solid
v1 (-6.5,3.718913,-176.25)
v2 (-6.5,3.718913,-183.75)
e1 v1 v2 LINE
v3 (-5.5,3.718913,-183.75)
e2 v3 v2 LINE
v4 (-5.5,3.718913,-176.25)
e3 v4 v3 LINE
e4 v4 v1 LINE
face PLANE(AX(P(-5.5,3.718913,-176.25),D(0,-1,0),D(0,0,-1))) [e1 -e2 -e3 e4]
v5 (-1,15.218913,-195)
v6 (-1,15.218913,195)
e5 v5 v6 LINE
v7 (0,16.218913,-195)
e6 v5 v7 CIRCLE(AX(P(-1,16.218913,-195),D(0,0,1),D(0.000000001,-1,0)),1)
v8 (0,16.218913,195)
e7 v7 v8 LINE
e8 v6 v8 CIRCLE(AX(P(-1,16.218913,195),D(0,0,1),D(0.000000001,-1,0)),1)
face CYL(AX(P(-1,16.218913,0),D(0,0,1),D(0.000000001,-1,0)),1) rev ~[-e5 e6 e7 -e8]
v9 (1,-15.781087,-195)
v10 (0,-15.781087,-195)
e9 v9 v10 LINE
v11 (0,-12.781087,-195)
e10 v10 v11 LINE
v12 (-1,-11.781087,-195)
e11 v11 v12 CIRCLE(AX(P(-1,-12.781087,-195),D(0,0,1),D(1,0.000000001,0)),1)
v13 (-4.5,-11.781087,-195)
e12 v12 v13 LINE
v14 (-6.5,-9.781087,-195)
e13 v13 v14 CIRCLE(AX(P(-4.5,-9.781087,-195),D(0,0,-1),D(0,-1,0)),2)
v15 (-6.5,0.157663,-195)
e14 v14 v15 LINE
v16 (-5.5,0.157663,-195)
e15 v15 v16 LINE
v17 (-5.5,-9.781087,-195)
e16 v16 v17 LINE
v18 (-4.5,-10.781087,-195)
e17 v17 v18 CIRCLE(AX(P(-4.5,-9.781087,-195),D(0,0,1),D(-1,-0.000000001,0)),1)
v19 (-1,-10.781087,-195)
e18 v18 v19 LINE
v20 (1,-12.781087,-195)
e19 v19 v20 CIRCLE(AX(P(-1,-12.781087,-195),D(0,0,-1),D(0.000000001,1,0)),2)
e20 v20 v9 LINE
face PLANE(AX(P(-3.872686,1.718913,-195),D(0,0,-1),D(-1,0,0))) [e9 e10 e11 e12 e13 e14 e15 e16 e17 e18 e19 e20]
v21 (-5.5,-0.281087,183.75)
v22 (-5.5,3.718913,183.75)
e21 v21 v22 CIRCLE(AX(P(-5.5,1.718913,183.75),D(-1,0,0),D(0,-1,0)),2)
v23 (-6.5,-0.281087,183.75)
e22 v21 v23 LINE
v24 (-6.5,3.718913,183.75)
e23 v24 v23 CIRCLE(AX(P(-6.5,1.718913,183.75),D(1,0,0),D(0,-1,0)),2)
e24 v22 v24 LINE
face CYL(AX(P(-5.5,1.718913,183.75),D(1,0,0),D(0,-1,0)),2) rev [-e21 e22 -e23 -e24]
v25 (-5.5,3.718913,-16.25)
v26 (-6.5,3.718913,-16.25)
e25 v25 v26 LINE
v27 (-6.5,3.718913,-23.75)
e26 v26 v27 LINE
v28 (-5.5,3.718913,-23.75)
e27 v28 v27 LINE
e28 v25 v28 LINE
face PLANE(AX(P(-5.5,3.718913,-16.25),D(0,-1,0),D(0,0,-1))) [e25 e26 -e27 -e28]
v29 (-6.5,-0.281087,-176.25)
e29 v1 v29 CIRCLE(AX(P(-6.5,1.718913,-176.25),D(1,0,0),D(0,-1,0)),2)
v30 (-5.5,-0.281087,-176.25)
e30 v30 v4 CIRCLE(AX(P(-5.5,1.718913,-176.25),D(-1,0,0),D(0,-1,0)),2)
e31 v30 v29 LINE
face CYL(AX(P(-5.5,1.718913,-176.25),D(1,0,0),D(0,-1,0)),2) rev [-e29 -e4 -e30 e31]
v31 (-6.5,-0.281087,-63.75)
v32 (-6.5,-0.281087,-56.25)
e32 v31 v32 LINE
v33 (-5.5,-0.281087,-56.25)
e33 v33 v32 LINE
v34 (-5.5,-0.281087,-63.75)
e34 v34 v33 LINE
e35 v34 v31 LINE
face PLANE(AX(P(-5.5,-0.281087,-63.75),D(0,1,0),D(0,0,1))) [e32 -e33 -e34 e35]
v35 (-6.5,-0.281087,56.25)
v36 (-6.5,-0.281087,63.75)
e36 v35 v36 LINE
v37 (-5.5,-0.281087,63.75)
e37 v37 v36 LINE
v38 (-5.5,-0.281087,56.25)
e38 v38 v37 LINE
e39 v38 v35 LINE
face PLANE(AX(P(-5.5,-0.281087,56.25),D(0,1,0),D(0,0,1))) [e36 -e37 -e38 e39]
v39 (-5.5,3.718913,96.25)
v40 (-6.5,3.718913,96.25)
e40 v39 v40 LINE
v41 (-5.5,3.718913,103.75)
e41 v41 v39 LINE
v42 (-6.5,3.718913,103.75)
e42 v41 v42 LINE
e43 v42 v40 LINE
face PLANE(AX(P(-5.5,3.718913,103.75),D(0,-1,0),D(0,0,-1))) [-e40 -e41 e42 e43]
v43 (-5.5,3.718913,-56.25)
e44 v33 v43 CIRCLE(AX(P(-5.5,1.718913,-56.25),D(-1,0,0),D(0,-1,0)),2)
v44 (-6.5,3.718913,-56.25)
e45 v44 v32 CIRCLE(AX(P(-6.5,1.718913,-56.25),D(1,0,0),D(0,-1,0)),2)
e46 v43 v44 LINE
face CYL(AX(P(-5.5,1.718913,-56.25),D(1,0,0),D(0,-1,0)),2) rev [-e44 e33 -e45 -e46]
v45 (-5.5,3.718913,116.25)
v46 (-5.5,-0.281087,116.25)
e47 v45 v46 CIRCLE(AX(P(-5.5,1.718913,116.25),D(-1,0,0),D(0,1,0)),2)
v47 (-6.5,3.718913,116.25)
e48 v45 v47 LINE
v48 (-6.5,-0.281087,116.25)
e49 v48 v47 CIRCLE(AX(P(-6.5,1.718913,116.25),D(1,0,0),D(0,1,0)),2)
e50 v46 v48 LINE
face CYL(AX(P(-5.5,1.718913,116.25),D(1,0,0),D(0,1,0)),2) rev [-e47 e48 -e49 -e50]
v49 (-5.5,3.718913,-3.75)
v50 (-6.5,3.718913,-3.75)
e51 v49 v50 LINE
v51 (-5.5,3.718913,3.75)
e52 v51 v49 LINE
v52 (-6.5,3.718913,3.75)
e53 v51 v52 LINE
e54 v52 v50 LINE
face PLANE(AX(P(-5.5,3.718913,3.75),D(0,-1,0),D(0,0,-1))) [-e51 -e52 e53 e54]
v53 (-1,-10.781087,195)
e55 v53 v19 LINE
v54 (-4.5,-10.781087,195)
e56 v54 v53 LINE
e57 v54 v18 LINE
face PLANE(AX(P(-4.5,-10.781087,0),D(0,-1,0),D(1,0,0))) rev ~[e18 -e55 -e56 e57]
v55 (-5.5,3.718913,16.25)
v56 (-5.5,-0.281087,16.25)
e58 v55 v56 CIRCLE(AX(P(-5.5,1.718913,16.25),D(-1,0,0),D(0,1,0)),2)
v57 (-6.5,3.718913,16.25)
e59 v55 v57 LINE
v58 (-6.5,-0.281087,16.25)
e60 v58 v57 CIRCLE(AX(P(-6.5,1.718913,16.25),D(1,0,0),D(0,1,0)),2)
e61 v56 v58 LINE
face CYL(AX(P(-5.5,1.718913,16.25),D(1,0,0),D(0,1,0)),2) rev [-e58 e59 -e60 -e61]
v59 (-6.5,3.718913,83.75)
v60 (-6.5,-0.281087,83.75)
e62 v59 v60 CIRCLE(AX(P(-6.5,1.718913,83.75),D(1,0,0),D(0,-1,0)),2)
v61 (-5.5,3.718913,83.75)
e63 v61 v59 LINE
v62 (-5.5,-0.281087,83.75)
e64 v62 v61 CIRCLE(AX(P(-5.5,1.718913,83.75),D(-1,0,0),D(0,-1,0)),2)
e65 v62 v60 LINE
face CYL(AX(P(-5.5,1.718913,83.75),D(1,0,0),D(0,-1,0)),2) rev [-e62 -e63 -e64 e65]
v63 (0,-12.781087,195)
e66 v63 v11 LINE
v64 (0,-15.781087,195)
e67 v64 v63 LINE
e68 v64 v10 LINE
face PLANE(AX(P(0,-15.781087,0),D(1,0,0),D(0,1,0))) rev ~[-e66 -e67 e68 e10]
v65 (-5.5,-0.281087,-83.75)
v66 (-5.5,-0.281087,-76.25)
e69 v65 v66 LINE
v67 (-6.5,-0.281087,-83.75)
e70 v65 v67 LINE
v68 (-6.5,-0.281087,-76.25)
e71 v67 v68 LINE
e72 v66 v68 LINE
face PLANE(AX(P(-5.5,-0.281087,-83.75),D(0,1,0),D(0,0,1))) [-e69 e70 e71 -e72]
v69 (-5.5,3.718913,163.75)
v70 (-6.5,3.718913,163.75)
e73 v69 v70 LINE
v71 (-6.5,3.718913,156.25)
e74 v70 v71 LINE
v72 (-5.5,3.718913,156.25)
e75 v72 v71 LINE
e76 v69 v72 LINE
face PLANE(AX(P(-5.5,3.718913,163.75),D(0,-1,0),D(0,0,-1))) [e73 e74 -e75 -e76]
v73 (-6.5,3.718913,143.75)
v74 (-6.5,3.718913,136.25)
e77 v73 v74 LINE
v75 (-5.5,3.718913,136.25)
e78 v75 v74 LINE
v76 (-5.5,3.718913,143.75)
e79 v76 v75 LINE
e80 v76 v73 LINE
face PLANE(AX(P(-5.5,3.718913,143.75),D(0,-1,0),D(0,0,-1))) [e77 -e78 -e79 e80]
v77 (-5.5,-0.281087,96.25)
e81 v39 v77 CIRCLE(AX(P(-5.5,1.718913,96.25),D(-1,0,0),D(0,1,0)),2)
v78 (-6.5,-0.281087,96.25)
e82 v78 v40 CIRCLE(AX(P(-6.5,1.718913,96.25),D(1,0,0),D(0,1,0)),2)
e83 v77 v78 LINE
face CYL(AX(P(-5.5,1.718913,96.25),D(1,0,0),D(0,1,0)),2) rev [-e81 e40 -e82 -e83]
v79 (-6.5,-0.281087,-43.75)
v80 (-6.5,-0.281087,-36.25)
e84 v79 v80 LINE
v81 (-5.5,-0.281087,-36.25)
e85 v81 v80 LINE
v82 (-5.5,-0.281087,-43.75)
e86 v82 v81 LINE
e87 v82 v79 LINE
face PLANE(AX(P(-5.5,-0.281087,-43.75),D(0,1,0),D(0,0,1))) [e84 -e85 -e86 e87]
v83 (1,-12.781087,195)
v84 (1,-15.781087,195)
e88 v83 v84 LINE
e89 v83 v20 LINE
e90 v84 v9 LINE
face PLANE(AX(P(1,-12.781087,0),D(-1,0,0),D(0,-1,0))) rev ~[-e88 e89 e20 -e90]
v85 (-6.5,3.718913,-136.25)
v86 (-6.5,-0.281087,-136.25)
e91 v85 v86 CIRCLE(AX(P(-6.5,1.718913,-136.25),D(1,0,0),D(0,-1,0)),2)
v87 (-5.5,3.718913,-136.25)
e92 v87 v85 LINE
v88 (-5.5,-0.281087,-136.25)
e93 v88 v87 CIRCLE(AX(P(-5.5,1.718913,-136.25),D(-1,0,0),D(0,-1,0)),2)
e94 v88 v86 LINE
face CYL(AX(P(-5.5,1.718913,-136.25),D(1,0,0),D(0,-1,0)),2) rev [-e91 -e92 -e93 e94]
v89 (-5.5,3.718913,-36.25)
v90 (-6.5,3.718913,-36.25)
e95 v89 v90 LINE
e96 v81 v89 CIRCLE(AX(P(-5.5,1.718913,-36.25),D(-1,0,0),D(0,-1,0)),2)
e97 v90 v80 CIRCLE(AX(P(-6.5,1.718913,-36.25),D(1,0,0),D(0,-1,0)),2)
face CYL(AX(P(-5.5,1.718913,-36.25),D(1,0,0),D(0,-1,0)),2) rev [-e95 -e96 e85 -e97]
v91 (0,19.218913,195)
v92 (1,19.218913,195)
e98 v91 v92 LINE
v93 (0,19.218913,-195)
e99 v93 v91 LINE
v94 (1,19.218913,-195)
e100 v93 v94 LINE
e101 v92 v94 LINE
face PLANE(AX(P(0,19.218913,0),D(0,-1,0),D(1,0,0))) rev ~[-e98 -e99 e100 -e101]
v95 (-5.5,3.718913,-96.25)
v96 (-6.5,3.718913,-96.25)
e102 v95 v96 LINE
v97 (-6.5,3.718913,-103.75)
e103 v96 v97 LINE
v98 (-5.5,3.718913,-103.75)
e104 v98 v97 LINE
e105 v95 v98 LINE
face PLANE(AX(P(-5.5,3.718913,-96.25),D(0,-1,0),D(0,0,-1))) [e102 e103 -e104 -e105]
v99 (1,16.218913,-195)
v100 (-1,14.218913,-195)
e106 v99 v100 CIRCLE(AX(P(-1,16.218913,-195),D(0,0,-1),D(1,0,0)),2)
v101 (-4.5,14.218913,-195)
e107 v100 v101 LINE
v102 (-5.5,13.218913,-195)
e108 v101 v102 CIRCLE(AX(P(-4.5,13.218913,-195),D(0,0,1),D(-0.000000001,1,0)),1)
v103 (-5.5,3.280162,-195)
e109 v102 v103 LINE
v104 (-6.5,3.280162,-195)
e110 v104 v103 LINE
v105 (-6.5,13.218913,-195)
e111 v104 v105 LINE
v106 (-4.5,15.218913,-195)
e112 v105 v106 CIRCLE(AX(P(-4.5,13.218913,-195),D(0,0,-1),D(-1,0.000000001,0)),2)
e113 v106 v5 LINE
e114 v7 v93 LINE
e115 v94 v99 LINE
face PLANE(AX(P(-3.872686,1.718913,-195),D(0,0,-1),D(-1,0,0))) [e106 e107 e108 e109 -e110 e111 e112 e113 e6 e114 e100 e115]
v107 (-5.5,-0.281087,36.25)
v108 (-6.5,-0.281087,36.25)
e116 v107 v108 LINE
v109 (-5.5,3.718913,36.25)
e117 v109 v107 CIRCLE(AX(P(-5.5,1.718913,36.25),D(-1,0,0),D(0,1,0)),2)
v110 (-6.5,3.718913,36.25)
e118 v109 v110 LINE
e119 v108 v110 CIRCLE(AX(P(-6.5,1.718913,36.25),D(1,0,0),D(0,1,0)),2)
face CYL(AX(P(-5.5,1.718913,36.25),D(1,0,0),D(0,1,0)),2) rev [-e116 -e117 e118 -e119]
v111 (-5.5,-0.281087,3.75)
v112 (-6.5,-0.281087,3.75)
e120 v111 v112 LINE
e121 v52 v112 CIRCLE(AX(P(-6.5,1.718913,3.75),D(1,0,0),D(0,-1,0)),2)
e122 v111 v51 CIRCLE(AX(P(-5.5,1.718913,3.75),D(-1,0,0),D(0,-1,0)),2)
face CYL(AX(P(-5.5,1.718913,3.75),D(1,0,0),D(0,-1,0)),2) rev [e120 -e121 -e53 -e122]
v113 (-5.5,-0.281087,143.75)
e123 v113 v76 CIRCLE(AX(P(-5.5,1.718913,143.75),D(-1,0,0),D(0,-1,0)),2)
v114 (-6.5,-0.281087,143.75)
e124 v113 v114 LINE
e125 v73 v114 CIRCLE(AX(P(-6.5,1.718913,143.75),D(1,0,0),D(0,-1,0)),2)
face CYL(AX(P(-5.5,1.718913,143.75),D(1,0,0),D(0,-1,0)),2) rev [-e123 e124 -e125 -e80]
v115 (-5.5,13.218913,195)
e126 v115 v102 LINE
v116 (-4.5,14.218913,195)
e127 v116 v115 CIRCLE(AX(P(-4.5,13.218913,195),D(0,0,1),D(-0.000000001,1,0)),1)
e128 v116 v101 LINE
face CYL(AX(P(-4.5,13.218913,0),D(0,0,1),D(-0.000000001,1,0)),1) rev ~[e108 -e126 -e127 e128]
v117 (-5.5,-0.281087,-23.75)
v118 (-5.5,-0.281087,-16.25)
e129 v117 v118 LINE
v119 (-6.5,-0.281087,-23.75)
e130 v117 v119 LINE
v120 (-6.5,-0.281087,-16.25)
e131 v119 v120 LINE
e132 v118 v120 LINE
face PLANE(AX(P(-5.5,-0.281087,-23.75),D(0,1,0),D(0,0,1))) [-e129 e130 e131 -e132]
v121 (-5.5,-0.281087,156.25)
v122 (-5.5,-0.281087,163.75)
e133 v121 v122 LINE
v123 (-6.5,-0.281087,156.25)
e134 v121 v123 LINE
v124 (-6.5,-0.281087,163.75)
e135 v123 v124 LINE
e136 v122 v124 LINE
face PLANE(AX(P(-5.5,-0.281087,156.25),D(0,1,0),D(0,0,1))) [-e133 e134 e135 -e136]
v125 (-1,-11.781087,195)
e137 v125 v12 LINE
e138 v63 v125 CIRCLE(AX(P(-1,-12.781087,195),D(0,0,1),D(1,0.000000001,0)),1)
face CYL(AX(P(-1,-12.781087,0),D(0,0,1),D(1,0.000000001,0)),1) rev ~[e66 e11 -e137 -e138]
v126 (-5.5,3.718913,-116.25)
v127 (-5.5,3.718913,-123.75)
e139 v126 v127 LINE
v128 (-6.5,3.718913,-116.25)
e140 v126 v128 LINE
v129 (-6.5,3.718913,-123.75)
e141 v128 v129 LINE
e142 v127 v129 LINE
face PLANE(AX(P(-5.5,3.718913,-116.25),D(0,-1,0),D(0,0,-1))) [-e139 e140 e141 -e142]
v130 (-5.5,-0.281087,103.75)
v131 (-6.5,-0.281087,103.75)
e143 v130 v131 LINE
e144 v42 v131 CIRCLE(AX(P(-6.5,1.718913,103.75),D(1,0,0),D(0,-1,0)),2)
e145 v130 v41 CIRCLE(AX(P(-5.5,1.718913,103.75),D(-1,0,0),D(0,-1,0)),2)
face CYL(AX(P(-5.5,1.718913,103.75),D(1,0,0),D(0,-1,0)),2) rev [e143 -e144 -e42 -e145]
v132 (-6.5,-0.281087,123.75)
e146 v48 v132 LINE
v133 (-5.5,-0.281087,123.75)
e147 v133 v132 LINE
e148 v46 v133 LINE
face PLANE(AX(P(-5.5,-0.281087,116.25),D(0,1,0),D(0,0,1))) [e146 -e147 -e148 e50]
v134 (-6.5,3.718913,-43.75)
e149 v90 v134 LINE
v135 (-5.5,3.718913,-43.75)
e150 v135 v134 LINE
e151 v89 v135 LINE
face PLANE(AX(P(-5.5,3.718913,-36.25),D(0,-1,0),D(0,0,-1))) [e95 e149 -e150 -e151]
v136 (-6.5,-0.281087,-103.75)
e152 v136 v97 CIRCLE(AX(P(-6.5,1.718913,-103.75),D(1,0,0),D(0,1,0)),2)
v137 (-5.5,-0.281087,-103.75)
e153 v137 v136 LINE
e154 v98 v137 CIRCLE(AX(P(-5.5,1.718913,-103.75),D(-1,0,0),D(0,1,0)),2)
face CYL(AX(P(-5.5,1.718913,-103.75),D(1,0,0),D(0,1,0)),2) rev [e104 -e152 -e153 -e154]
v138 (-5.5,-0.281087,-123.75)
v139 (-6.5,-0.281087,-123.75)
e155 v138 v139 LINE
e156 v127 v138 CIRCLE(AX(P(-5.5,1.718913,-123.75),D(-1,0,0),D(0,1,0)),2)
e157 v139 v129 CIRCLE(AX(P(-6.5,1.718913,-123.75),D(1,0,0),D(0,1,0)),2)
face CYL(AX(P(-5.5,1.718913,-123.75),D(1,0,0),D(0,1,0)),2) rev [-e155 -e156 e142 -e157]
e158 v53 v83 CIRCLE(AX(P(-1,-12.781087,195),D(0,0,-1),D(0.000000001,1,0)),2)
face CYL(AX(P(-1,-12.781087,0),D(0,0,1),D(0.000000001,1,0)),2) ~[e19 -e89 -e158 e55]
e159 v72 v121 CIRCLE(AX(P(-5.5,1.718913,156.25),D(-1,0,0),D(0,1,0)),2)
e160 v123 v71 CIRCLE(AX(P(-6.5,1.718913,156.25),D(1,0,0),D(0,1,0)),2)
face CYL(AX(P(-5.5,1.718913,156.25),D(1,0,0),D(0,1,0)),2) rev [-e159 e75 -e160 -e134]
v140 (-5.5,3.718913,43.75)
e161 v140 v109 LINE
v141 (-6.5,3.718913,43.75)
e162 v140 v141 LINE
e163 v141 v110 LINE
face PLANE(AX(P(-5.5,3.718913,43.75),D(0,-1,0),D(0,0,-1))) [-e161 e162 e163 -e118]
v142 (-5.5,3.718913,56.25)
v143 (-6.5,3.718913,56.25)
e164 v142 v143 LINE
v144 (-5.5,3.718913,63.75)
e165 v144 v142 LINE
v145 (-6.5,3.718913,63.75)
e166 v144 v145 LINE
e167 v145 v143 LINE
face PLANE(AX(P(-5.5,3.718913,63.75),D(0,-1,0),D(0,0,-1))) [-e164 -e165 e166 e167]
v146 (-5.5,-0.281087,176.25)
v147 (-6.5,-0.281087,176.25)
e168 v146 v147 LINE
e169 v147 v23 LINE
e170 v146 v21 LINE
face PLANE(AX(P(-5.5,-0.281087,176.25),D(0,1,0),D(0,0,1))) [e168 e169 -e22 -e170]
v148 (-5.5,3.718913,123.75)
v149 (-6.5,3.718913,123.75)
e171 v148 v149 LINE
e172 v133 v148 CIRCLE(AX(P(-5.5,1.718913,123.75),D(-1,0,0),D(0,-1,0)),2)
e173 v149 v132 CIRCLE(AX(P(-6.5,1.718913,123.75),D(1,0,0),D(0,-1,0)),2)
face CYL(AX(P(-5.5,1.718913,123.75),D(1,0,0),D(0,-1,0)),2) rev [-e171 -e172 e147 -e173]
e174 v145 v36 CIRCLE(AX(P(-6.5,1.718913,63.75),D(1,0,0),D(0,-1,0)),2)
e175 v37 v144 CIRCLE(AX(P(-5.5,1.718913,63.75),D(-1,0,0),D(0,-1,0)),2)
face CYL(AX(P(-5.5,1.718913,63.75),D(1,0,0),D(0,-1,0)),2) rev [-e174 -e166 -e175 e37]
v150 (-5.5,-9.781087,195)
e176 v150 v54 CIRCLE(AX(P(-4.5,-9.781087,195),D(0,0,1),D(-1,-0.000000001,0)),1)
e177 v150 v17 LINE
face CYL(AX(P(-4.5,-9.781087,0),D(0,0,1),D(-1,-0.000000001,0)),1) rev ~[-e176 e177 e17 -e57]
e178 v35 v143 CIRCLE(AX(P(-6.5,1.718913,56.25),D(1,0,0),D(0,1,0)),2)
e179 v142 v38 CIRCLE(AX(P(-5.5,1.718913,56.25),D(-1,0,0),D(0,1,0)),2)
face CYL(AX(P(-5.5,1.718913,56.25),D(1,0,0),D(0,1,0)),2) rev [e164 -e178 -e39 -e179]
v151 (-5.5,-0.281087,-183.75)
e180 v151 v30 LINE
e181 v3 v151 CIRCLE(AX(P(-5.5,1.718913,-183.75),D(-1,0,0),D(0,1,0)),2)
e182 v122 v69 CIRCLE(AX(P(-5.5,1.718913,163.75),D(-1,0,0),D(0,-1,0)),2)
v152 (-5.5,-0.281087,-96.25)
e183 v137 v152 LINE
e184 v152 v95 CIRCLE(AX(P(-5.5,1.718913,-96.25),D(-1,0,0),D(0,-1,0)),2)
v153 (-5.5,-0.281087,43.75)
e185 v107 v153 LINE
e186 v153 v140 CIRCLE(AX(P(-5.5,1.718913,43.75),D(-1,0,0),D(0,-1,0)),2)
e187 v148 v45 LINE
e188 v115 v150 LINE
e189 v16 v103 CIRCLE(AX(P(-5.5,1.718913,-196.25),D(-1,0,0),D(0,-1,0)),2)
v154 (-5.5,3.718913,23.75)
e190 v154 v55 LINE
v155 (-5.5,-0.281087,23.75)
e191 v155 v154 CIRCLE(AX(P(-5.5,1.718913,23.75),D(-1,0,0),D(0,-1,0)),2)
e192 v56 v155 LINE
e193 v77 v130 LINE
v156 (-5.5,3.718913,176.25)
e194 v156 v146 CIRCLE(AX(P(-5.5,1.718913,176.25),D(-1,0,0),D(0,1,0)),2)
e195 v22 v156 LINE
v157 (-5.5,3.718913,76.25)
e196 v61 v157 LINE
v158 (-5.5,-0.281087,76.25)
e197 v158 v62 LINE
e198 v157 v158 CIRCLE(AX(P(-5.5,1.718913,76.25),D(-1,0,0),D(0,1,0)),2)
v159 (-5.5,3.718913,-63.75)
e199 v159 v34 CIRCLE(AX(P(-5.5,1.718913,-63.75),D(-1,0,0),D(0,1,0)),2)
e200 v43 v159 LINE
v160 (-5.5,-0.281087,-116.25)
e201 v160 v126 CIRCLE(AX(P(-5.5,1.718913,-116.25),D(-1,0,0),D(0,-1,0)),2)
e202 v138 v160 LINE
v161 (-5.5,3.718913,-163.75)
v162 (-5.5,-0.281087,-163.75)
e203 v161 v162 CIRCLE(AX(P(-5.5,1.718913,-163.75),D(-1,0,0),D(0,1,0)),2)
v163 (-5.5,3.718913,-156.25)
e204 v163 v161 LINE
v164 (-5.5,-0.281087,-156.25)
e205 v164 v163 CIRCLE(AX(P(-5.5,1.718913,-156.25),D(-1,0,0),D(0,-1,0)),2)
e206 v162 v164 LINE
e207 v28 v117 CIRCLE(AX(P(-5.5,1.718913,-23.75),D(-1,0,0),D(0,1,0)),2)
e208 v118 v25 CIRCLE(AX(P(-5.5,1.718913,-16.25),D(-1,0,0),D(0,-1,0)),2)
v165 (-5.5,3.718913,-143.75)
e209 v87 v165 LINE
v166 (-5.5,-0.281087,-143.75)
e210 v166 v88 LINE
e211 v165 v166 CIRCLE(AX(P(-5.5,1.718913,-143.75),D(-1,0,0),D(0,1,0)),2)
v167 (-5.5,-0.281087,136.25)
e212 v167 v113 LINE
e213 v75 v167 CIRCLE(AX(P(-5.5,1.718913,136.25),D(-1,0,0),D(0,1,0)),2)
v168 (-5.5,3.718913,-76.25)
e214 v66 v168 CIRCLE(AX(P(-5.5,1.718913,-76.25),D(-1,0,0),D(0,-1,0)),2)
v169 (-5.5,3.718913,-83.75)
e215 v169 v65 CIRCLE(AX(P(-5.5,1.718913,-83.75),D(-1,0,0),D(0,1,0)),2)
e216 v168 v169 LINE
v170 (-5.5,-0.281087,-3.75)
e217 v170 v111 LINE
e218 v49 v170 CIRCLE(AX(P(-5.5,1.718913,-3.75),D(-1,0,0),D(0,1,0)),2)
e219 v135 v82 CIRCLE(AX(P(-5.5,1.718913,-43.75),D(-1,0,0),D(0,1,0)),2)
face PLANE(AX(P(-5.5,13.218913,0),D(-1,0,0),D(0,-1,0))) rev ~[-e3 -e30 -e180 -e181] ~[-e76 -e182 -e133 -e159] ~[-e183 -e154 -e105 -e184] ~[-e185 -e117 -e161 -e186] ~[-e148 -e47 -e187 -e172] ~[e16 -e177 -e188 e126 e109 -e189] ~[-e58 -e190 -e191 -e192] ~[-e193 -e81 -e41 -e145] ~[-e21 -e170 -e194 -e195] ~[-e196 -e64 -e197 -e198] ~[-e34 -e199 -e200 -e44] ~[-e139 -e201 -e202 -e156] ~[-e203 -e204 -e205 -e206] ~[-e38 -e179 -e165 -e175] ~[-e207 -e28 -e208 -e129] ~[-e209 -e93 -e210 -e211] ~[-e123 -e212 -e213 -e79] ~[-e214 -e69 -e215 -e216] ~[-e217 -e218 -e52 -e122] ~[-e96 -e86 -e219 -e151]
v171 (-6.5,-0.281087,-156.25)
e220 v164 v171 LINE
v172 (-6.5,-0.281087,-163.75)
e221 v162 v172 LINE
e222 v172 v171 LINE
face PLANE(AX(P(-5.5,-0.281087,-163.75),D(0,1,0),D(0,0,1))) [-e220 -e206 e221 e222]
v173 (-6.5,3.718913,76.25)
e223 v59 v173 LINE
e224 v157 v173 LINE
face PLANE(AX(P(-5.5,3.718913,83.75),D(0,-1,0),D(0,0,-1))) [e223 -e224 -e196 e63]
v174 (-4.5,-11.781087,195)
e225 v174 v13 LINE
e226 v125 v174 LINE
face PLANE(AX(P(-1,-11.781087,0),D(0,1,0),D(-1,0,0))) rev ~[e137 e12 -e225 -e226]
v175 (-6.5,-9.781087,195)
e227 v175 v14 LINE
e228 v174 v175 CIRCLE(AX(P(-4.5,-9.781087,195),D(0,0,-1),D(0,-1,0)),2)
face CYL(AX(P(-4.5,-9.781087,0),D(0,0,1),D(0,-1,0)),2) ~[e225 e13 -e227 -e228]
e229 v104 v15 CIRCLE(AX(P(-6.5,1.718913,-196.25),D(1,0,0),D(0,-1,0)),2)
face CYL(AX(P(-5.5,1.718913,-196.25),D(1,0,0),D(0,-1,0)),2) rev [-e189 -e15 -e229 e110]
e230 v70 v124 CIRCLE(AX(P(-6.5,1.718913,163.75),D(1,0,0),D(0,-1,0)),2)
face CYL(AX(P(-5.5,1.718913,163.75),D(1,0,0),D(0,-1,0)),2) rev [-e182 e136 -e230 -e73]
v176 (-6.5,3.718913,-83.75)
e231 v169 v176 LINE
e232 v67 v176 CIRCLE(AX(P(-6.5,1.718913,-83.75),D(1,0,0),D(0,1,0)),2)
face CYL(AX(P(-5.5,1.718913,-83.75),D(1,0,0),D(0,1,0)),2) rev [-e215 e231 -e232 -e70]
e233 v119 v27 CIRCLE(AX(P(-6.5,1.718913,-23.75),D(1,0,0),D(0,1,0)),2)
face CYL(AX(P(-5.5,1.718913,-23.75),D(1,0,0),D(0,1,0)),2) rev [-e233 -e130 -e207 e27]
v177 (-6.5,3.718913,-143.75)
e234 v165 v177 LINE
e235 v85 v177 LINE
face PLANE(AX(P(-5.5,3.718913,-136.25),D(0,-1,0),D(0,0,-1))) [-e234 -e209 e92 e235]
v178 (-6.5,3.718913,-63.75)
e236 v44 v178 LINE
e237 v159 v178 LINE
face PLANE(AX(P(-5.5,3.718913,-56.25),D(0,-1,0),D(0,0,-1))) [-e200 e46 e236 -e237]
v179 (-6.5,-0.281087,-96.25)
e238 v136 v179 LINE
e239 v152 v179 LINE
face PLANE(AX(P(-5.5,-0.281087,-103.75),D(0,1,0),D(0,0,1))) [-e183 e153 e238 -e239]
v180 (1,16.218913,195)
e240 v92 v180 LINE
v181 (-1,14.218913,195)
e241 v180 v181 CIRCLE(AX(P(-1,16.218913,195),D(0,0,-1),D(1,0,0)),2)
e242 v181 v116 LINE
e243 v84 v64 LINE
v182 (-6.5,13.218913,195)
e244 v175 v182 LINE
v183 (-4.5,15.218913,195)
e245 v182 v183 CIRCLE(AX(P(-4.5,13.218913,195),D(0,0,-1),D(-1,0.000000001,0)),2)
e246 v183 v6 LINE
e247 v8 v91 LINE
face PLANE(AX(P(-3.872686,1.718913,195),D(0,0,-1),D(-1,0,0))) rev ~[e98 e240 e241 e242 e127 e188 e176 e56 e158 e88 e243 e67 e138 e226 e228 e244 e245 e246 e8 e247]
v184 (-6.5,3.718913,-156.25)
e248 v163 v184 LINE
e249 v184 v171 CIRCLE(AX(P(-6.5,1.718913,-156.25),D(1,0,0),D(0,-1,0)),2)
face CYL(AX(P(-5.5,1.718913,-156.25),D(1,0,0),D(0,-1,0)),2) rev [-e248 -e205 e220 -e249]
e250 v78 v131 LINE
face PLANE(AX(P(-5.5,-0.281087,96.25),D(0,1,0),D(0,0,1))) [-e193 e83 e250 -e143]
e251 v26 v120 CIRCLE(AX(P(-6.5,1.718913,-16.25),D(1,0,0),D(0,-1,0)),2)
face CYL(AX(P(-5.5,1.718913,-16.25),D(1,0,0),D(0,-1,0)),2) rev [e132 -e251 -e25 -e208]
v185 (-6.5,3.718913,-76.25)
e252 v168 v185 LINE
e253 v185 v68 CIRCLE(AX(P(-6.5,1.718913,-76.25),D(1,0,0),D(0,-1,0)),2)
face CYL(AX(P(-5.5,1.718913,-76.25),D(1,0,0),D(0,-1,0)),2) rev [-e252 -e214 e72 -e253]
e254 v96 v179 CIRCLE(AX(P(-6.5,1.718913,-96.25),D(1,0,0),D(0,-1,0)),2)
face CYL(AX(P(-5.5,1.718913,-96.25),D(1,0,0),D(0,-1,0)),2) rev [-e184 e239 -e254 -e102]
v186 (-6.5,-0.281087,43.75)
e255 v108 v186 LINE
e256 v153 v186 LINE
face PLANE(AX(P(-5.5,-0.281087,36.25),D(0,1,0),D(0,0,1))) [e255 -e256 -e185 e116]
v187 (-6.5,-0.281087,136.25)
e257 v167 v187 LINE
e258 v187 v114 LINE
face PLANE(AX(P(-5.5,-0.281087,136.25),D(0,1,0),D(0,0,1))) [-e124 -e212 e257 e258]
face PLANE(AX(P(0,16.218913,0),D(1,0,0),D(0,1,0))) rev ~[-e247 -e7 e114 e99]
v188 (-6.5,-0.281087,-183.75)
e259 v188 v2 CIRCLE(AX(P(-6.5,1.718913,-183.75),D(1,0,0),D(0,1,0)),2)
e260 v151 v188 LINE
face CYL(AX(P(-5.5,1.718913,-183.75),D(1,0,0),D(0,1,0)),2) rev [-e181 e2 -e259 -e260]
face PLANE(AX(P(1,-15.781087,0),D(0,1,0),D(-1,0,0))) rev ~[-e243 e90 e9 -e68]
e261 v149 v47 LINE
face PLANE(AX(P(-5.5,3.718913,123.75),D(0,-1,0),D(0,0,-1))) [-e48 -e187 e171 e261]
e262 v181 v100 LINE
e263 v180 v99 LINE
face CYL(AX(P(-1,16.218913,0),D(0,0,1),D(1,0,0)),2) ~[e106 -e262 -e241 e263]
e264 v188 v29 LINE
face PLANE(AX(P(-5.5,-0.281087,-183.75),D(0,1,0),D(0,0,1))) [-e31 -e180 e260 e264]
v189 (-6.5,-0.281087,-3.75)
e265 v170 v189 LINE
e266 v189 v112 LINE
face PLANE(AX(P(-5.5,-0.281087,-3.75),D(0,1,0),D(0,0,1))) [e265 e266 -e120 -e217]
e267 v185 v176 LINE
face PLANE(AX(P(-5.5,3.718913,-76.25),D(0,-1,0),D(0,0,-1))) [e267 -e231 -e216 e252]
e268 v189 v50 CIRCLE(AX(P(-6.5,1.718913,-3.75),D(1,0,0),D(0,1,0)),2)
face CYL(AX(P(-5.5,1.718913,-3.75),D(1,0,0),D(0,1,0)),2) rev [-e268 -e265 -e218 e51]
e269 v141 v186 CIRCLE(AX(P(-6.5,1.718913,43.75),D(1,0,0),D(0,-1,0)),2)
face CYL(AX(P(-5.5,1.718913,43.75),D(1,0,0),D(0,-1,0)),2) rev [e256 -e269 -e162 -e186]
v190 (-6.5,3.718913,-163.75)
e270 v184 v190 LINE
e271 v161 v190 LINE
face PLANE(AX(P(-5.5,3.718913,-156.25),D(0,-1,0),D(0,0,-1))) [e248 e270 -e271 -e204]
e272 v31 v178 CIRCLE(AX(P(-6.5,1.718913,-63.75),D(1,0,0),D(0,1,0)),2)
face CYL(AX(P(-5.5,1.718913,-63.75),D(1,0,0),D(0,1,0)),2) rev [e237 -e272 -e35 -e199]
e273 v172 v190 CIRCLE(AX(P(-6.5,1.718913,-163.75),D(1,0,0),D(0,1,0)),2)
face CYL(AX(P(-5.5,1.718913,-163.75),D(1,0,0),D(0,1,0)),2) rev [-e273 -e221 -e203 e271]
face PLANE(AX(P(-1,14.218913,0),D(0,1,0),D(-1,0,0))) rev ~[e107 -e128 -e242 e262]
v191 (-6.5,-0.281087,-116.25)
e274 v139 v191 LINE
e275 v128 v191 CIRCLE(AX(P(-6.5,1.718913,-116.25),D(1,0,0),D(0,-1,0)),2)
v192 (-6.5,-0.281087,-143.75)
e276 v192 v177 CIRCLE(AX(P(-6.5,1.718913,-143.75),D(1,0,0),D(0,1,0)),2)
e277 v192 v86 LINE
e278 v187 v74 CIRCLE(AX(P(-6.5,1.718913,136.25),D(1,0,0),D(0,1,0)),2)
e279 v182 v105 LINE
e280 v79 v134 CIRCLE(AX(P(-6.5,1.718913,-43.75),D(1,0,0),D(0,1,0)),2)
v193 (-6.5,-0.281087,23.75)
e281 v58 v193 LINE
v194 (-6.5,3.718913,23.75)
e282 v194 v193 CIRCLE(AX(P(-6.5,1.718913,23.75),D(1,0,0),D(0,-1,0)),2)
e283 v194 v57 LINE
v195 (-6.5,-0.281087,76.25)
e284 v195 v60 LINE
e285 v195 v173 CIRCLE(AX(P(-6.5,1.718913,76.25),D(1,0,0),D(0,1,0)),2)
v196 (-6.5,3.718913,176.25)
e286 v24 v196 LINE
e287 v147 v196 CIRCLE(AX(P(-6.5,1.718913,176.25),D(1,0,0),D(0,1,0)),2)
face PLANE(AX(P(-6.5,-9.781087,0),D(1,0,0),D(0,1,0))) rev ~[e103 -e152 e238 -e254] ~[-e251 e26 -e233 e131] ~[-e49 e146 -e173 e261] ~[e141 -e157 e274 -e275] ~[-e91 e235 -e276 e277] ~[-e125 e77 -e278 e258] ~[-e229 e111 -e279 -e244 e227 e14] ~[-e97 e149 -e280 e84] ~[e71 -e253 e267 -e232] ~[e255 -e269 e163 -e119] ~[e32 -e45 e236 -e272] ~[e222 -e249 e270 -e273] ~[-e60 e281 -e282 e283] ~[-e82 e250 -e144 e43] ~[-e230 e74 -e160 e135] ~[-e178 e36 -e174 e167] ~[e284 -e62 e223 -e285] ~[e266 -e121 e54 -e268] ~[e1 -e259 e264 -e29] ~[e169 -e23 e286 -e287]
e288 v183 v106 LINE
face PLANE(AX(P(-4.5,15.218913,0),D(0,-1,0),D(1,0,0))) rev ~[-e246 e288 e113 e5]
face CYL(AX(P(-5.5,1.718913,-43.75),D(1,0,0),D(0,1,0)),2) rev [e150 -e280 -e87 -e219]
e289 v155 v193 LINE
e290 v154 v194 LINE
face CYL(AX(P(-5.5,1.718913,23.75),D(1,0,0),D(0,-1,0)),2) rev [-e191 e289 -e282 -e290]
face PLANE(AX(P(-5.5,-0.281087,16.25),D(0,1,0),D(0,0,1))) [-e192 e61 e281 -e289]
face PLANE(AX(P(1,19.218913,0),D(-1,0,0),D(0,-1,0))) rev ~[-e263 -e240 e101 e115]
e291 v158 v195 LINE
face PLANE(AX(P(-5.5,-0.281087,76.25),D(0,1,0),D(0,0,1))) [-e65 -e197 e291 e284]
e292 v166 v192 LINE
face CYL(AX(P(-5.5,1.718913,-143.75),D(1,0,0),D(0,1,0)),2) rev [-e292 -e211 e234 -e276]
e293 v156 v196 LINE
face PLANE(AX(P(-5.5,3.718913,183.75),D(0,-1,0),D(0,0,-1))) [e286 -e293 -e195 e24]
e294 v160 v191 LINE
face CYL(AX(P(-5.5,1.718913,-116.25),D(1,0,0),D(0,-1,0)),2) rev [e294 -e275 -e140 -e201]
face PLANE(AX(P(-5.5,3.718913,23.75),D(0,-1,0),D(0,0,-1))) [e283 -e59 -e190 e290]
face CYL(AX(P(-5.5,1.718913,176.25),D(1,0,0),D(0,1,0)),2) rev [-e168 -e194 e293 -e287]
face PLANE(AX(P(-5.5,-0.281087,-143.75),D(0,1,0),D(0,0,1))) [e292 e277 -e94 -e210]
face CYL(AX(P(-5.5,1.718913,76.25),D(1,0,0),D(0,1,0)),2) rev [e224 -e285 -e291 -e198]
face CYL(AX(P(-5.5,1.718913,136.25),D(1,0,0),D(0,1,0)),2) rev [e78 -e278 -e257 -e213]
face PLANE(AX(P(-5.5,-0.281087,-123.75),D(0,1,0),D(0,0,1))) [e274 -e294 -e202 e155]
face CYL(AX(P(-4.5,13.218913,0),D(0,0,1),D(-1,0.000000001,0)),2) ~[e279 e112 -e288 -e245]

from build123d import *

# Parameters (mm, degrees)
EXTRUDE_1_DEPTH        = 195
CUT_EXTRUDE_1_DEPTH    = 10
PATTERN_LINEAR_1_COUNT = 50
PATTERN_LINEAR_1_PITCH = 20


with BuildPart() as part:
    # 草图1 → 凸台-拉伸1 (new, symmetric)
    with BuildSketch(Plane.XY):
        with BuildLine():
            Line((0, 19.218912653), (1, 19.218912653))
            Line((1, 19.218912653), (1, 16.218912653))
            ThreePointArc((1, 16.218912653), (0.414213562, 14.80469909), (-1, 14.218912653))
            Line((-1, 14.218912653), (-4.5, 14.218912653))
            ThreePointArc((-4.5, 14.218912653), (-5.207106781, 13.926019434), (-5.5, 13.218912653))
            Line((-5.5, 13.218912653), (-5.5, -9.781087347))
            ThreePointArc((-5.5, -9.781087347), (-5.207106781, -10.488194128), (-4.5, -10.781087347))
            Line((-4.5, -10.781087347), (-1, -10.781087347))
            ThreePointArc((-1, -10.781087347), (0.414213562, -11.366873785), (1, -12.781087347))
            Line((1, -12.781087347), (1, -15.781087347))
            Line((1, -15.781087347), (0, -15.781087347))
            Line((0, -15.781087347), (0, -12.781087347))
            ThreePointArc((0, -12.781087347), (-0.292893219, -12.073980566), (-1, -11.781087347))
            Line((-1, -11.781087347), (-4.5, -11.781087347))
            ThreePointArc((-4.5, -11.781087347), (-5.914213562, -11.19530091), (-6.5, -9.781087347))
            Line((-6.5, -9.781087347), (-6.5, 13.218912653))
            ThreePointArc((-6.5, 13.218912653), (-5.914213562, 14.633126215), (-4.5, 15.218912653))
            Line((-4.5, 15.218912653), (-1, 15.218912653))
            ThreePointArc((-1, 15.218912653), (-0.292893219, 15.511805872), (0, 16.218912653))
            Line((0, 16.218912653), (0, 19.218912653))
        make_face()
    extrude(amount=EXTRUDE_1_DEPTH, both=True)

    # 草图2 → 切除-拉伸1 (cut)
    with BuildSketch(Plane(origin=(-5.5, 0, 0), x_dir=(0, 0, -1), z_dir=(1, 0, 0))):
        with BuildLine():
            Line((-183.75, 3.718912653), (-176.25, 3.718912653))
            ThreePointArc((-176.25, 3.718912653), (-174.25, 1.718912653), (-176.25, -0.281087347))
            Line((-176.25, -0.281087347), (-183.75, -0.281087347))
            ThreePointArc((-183.75, -0.281087347), (-185.75, 1.718912653), (-183.75, 3.718912653))
        make_face()
    cut_extrude_1 = extrude(amount=-CUT_EXTRUDE_1_DEPTH, mode=Mode.SUBTRACT)

    # 阵列(线性)1: 切除-拉伸1 ×50
    with Locations(*[(0, 0, -i * PATTERN_LINEAR_1_PITCH) for i in range(1, PATTERN_LINEAR_1_COUNT)]):
        add(cut_extrude_1, mode=Mode.SUBTRACT)


solid = part.part
